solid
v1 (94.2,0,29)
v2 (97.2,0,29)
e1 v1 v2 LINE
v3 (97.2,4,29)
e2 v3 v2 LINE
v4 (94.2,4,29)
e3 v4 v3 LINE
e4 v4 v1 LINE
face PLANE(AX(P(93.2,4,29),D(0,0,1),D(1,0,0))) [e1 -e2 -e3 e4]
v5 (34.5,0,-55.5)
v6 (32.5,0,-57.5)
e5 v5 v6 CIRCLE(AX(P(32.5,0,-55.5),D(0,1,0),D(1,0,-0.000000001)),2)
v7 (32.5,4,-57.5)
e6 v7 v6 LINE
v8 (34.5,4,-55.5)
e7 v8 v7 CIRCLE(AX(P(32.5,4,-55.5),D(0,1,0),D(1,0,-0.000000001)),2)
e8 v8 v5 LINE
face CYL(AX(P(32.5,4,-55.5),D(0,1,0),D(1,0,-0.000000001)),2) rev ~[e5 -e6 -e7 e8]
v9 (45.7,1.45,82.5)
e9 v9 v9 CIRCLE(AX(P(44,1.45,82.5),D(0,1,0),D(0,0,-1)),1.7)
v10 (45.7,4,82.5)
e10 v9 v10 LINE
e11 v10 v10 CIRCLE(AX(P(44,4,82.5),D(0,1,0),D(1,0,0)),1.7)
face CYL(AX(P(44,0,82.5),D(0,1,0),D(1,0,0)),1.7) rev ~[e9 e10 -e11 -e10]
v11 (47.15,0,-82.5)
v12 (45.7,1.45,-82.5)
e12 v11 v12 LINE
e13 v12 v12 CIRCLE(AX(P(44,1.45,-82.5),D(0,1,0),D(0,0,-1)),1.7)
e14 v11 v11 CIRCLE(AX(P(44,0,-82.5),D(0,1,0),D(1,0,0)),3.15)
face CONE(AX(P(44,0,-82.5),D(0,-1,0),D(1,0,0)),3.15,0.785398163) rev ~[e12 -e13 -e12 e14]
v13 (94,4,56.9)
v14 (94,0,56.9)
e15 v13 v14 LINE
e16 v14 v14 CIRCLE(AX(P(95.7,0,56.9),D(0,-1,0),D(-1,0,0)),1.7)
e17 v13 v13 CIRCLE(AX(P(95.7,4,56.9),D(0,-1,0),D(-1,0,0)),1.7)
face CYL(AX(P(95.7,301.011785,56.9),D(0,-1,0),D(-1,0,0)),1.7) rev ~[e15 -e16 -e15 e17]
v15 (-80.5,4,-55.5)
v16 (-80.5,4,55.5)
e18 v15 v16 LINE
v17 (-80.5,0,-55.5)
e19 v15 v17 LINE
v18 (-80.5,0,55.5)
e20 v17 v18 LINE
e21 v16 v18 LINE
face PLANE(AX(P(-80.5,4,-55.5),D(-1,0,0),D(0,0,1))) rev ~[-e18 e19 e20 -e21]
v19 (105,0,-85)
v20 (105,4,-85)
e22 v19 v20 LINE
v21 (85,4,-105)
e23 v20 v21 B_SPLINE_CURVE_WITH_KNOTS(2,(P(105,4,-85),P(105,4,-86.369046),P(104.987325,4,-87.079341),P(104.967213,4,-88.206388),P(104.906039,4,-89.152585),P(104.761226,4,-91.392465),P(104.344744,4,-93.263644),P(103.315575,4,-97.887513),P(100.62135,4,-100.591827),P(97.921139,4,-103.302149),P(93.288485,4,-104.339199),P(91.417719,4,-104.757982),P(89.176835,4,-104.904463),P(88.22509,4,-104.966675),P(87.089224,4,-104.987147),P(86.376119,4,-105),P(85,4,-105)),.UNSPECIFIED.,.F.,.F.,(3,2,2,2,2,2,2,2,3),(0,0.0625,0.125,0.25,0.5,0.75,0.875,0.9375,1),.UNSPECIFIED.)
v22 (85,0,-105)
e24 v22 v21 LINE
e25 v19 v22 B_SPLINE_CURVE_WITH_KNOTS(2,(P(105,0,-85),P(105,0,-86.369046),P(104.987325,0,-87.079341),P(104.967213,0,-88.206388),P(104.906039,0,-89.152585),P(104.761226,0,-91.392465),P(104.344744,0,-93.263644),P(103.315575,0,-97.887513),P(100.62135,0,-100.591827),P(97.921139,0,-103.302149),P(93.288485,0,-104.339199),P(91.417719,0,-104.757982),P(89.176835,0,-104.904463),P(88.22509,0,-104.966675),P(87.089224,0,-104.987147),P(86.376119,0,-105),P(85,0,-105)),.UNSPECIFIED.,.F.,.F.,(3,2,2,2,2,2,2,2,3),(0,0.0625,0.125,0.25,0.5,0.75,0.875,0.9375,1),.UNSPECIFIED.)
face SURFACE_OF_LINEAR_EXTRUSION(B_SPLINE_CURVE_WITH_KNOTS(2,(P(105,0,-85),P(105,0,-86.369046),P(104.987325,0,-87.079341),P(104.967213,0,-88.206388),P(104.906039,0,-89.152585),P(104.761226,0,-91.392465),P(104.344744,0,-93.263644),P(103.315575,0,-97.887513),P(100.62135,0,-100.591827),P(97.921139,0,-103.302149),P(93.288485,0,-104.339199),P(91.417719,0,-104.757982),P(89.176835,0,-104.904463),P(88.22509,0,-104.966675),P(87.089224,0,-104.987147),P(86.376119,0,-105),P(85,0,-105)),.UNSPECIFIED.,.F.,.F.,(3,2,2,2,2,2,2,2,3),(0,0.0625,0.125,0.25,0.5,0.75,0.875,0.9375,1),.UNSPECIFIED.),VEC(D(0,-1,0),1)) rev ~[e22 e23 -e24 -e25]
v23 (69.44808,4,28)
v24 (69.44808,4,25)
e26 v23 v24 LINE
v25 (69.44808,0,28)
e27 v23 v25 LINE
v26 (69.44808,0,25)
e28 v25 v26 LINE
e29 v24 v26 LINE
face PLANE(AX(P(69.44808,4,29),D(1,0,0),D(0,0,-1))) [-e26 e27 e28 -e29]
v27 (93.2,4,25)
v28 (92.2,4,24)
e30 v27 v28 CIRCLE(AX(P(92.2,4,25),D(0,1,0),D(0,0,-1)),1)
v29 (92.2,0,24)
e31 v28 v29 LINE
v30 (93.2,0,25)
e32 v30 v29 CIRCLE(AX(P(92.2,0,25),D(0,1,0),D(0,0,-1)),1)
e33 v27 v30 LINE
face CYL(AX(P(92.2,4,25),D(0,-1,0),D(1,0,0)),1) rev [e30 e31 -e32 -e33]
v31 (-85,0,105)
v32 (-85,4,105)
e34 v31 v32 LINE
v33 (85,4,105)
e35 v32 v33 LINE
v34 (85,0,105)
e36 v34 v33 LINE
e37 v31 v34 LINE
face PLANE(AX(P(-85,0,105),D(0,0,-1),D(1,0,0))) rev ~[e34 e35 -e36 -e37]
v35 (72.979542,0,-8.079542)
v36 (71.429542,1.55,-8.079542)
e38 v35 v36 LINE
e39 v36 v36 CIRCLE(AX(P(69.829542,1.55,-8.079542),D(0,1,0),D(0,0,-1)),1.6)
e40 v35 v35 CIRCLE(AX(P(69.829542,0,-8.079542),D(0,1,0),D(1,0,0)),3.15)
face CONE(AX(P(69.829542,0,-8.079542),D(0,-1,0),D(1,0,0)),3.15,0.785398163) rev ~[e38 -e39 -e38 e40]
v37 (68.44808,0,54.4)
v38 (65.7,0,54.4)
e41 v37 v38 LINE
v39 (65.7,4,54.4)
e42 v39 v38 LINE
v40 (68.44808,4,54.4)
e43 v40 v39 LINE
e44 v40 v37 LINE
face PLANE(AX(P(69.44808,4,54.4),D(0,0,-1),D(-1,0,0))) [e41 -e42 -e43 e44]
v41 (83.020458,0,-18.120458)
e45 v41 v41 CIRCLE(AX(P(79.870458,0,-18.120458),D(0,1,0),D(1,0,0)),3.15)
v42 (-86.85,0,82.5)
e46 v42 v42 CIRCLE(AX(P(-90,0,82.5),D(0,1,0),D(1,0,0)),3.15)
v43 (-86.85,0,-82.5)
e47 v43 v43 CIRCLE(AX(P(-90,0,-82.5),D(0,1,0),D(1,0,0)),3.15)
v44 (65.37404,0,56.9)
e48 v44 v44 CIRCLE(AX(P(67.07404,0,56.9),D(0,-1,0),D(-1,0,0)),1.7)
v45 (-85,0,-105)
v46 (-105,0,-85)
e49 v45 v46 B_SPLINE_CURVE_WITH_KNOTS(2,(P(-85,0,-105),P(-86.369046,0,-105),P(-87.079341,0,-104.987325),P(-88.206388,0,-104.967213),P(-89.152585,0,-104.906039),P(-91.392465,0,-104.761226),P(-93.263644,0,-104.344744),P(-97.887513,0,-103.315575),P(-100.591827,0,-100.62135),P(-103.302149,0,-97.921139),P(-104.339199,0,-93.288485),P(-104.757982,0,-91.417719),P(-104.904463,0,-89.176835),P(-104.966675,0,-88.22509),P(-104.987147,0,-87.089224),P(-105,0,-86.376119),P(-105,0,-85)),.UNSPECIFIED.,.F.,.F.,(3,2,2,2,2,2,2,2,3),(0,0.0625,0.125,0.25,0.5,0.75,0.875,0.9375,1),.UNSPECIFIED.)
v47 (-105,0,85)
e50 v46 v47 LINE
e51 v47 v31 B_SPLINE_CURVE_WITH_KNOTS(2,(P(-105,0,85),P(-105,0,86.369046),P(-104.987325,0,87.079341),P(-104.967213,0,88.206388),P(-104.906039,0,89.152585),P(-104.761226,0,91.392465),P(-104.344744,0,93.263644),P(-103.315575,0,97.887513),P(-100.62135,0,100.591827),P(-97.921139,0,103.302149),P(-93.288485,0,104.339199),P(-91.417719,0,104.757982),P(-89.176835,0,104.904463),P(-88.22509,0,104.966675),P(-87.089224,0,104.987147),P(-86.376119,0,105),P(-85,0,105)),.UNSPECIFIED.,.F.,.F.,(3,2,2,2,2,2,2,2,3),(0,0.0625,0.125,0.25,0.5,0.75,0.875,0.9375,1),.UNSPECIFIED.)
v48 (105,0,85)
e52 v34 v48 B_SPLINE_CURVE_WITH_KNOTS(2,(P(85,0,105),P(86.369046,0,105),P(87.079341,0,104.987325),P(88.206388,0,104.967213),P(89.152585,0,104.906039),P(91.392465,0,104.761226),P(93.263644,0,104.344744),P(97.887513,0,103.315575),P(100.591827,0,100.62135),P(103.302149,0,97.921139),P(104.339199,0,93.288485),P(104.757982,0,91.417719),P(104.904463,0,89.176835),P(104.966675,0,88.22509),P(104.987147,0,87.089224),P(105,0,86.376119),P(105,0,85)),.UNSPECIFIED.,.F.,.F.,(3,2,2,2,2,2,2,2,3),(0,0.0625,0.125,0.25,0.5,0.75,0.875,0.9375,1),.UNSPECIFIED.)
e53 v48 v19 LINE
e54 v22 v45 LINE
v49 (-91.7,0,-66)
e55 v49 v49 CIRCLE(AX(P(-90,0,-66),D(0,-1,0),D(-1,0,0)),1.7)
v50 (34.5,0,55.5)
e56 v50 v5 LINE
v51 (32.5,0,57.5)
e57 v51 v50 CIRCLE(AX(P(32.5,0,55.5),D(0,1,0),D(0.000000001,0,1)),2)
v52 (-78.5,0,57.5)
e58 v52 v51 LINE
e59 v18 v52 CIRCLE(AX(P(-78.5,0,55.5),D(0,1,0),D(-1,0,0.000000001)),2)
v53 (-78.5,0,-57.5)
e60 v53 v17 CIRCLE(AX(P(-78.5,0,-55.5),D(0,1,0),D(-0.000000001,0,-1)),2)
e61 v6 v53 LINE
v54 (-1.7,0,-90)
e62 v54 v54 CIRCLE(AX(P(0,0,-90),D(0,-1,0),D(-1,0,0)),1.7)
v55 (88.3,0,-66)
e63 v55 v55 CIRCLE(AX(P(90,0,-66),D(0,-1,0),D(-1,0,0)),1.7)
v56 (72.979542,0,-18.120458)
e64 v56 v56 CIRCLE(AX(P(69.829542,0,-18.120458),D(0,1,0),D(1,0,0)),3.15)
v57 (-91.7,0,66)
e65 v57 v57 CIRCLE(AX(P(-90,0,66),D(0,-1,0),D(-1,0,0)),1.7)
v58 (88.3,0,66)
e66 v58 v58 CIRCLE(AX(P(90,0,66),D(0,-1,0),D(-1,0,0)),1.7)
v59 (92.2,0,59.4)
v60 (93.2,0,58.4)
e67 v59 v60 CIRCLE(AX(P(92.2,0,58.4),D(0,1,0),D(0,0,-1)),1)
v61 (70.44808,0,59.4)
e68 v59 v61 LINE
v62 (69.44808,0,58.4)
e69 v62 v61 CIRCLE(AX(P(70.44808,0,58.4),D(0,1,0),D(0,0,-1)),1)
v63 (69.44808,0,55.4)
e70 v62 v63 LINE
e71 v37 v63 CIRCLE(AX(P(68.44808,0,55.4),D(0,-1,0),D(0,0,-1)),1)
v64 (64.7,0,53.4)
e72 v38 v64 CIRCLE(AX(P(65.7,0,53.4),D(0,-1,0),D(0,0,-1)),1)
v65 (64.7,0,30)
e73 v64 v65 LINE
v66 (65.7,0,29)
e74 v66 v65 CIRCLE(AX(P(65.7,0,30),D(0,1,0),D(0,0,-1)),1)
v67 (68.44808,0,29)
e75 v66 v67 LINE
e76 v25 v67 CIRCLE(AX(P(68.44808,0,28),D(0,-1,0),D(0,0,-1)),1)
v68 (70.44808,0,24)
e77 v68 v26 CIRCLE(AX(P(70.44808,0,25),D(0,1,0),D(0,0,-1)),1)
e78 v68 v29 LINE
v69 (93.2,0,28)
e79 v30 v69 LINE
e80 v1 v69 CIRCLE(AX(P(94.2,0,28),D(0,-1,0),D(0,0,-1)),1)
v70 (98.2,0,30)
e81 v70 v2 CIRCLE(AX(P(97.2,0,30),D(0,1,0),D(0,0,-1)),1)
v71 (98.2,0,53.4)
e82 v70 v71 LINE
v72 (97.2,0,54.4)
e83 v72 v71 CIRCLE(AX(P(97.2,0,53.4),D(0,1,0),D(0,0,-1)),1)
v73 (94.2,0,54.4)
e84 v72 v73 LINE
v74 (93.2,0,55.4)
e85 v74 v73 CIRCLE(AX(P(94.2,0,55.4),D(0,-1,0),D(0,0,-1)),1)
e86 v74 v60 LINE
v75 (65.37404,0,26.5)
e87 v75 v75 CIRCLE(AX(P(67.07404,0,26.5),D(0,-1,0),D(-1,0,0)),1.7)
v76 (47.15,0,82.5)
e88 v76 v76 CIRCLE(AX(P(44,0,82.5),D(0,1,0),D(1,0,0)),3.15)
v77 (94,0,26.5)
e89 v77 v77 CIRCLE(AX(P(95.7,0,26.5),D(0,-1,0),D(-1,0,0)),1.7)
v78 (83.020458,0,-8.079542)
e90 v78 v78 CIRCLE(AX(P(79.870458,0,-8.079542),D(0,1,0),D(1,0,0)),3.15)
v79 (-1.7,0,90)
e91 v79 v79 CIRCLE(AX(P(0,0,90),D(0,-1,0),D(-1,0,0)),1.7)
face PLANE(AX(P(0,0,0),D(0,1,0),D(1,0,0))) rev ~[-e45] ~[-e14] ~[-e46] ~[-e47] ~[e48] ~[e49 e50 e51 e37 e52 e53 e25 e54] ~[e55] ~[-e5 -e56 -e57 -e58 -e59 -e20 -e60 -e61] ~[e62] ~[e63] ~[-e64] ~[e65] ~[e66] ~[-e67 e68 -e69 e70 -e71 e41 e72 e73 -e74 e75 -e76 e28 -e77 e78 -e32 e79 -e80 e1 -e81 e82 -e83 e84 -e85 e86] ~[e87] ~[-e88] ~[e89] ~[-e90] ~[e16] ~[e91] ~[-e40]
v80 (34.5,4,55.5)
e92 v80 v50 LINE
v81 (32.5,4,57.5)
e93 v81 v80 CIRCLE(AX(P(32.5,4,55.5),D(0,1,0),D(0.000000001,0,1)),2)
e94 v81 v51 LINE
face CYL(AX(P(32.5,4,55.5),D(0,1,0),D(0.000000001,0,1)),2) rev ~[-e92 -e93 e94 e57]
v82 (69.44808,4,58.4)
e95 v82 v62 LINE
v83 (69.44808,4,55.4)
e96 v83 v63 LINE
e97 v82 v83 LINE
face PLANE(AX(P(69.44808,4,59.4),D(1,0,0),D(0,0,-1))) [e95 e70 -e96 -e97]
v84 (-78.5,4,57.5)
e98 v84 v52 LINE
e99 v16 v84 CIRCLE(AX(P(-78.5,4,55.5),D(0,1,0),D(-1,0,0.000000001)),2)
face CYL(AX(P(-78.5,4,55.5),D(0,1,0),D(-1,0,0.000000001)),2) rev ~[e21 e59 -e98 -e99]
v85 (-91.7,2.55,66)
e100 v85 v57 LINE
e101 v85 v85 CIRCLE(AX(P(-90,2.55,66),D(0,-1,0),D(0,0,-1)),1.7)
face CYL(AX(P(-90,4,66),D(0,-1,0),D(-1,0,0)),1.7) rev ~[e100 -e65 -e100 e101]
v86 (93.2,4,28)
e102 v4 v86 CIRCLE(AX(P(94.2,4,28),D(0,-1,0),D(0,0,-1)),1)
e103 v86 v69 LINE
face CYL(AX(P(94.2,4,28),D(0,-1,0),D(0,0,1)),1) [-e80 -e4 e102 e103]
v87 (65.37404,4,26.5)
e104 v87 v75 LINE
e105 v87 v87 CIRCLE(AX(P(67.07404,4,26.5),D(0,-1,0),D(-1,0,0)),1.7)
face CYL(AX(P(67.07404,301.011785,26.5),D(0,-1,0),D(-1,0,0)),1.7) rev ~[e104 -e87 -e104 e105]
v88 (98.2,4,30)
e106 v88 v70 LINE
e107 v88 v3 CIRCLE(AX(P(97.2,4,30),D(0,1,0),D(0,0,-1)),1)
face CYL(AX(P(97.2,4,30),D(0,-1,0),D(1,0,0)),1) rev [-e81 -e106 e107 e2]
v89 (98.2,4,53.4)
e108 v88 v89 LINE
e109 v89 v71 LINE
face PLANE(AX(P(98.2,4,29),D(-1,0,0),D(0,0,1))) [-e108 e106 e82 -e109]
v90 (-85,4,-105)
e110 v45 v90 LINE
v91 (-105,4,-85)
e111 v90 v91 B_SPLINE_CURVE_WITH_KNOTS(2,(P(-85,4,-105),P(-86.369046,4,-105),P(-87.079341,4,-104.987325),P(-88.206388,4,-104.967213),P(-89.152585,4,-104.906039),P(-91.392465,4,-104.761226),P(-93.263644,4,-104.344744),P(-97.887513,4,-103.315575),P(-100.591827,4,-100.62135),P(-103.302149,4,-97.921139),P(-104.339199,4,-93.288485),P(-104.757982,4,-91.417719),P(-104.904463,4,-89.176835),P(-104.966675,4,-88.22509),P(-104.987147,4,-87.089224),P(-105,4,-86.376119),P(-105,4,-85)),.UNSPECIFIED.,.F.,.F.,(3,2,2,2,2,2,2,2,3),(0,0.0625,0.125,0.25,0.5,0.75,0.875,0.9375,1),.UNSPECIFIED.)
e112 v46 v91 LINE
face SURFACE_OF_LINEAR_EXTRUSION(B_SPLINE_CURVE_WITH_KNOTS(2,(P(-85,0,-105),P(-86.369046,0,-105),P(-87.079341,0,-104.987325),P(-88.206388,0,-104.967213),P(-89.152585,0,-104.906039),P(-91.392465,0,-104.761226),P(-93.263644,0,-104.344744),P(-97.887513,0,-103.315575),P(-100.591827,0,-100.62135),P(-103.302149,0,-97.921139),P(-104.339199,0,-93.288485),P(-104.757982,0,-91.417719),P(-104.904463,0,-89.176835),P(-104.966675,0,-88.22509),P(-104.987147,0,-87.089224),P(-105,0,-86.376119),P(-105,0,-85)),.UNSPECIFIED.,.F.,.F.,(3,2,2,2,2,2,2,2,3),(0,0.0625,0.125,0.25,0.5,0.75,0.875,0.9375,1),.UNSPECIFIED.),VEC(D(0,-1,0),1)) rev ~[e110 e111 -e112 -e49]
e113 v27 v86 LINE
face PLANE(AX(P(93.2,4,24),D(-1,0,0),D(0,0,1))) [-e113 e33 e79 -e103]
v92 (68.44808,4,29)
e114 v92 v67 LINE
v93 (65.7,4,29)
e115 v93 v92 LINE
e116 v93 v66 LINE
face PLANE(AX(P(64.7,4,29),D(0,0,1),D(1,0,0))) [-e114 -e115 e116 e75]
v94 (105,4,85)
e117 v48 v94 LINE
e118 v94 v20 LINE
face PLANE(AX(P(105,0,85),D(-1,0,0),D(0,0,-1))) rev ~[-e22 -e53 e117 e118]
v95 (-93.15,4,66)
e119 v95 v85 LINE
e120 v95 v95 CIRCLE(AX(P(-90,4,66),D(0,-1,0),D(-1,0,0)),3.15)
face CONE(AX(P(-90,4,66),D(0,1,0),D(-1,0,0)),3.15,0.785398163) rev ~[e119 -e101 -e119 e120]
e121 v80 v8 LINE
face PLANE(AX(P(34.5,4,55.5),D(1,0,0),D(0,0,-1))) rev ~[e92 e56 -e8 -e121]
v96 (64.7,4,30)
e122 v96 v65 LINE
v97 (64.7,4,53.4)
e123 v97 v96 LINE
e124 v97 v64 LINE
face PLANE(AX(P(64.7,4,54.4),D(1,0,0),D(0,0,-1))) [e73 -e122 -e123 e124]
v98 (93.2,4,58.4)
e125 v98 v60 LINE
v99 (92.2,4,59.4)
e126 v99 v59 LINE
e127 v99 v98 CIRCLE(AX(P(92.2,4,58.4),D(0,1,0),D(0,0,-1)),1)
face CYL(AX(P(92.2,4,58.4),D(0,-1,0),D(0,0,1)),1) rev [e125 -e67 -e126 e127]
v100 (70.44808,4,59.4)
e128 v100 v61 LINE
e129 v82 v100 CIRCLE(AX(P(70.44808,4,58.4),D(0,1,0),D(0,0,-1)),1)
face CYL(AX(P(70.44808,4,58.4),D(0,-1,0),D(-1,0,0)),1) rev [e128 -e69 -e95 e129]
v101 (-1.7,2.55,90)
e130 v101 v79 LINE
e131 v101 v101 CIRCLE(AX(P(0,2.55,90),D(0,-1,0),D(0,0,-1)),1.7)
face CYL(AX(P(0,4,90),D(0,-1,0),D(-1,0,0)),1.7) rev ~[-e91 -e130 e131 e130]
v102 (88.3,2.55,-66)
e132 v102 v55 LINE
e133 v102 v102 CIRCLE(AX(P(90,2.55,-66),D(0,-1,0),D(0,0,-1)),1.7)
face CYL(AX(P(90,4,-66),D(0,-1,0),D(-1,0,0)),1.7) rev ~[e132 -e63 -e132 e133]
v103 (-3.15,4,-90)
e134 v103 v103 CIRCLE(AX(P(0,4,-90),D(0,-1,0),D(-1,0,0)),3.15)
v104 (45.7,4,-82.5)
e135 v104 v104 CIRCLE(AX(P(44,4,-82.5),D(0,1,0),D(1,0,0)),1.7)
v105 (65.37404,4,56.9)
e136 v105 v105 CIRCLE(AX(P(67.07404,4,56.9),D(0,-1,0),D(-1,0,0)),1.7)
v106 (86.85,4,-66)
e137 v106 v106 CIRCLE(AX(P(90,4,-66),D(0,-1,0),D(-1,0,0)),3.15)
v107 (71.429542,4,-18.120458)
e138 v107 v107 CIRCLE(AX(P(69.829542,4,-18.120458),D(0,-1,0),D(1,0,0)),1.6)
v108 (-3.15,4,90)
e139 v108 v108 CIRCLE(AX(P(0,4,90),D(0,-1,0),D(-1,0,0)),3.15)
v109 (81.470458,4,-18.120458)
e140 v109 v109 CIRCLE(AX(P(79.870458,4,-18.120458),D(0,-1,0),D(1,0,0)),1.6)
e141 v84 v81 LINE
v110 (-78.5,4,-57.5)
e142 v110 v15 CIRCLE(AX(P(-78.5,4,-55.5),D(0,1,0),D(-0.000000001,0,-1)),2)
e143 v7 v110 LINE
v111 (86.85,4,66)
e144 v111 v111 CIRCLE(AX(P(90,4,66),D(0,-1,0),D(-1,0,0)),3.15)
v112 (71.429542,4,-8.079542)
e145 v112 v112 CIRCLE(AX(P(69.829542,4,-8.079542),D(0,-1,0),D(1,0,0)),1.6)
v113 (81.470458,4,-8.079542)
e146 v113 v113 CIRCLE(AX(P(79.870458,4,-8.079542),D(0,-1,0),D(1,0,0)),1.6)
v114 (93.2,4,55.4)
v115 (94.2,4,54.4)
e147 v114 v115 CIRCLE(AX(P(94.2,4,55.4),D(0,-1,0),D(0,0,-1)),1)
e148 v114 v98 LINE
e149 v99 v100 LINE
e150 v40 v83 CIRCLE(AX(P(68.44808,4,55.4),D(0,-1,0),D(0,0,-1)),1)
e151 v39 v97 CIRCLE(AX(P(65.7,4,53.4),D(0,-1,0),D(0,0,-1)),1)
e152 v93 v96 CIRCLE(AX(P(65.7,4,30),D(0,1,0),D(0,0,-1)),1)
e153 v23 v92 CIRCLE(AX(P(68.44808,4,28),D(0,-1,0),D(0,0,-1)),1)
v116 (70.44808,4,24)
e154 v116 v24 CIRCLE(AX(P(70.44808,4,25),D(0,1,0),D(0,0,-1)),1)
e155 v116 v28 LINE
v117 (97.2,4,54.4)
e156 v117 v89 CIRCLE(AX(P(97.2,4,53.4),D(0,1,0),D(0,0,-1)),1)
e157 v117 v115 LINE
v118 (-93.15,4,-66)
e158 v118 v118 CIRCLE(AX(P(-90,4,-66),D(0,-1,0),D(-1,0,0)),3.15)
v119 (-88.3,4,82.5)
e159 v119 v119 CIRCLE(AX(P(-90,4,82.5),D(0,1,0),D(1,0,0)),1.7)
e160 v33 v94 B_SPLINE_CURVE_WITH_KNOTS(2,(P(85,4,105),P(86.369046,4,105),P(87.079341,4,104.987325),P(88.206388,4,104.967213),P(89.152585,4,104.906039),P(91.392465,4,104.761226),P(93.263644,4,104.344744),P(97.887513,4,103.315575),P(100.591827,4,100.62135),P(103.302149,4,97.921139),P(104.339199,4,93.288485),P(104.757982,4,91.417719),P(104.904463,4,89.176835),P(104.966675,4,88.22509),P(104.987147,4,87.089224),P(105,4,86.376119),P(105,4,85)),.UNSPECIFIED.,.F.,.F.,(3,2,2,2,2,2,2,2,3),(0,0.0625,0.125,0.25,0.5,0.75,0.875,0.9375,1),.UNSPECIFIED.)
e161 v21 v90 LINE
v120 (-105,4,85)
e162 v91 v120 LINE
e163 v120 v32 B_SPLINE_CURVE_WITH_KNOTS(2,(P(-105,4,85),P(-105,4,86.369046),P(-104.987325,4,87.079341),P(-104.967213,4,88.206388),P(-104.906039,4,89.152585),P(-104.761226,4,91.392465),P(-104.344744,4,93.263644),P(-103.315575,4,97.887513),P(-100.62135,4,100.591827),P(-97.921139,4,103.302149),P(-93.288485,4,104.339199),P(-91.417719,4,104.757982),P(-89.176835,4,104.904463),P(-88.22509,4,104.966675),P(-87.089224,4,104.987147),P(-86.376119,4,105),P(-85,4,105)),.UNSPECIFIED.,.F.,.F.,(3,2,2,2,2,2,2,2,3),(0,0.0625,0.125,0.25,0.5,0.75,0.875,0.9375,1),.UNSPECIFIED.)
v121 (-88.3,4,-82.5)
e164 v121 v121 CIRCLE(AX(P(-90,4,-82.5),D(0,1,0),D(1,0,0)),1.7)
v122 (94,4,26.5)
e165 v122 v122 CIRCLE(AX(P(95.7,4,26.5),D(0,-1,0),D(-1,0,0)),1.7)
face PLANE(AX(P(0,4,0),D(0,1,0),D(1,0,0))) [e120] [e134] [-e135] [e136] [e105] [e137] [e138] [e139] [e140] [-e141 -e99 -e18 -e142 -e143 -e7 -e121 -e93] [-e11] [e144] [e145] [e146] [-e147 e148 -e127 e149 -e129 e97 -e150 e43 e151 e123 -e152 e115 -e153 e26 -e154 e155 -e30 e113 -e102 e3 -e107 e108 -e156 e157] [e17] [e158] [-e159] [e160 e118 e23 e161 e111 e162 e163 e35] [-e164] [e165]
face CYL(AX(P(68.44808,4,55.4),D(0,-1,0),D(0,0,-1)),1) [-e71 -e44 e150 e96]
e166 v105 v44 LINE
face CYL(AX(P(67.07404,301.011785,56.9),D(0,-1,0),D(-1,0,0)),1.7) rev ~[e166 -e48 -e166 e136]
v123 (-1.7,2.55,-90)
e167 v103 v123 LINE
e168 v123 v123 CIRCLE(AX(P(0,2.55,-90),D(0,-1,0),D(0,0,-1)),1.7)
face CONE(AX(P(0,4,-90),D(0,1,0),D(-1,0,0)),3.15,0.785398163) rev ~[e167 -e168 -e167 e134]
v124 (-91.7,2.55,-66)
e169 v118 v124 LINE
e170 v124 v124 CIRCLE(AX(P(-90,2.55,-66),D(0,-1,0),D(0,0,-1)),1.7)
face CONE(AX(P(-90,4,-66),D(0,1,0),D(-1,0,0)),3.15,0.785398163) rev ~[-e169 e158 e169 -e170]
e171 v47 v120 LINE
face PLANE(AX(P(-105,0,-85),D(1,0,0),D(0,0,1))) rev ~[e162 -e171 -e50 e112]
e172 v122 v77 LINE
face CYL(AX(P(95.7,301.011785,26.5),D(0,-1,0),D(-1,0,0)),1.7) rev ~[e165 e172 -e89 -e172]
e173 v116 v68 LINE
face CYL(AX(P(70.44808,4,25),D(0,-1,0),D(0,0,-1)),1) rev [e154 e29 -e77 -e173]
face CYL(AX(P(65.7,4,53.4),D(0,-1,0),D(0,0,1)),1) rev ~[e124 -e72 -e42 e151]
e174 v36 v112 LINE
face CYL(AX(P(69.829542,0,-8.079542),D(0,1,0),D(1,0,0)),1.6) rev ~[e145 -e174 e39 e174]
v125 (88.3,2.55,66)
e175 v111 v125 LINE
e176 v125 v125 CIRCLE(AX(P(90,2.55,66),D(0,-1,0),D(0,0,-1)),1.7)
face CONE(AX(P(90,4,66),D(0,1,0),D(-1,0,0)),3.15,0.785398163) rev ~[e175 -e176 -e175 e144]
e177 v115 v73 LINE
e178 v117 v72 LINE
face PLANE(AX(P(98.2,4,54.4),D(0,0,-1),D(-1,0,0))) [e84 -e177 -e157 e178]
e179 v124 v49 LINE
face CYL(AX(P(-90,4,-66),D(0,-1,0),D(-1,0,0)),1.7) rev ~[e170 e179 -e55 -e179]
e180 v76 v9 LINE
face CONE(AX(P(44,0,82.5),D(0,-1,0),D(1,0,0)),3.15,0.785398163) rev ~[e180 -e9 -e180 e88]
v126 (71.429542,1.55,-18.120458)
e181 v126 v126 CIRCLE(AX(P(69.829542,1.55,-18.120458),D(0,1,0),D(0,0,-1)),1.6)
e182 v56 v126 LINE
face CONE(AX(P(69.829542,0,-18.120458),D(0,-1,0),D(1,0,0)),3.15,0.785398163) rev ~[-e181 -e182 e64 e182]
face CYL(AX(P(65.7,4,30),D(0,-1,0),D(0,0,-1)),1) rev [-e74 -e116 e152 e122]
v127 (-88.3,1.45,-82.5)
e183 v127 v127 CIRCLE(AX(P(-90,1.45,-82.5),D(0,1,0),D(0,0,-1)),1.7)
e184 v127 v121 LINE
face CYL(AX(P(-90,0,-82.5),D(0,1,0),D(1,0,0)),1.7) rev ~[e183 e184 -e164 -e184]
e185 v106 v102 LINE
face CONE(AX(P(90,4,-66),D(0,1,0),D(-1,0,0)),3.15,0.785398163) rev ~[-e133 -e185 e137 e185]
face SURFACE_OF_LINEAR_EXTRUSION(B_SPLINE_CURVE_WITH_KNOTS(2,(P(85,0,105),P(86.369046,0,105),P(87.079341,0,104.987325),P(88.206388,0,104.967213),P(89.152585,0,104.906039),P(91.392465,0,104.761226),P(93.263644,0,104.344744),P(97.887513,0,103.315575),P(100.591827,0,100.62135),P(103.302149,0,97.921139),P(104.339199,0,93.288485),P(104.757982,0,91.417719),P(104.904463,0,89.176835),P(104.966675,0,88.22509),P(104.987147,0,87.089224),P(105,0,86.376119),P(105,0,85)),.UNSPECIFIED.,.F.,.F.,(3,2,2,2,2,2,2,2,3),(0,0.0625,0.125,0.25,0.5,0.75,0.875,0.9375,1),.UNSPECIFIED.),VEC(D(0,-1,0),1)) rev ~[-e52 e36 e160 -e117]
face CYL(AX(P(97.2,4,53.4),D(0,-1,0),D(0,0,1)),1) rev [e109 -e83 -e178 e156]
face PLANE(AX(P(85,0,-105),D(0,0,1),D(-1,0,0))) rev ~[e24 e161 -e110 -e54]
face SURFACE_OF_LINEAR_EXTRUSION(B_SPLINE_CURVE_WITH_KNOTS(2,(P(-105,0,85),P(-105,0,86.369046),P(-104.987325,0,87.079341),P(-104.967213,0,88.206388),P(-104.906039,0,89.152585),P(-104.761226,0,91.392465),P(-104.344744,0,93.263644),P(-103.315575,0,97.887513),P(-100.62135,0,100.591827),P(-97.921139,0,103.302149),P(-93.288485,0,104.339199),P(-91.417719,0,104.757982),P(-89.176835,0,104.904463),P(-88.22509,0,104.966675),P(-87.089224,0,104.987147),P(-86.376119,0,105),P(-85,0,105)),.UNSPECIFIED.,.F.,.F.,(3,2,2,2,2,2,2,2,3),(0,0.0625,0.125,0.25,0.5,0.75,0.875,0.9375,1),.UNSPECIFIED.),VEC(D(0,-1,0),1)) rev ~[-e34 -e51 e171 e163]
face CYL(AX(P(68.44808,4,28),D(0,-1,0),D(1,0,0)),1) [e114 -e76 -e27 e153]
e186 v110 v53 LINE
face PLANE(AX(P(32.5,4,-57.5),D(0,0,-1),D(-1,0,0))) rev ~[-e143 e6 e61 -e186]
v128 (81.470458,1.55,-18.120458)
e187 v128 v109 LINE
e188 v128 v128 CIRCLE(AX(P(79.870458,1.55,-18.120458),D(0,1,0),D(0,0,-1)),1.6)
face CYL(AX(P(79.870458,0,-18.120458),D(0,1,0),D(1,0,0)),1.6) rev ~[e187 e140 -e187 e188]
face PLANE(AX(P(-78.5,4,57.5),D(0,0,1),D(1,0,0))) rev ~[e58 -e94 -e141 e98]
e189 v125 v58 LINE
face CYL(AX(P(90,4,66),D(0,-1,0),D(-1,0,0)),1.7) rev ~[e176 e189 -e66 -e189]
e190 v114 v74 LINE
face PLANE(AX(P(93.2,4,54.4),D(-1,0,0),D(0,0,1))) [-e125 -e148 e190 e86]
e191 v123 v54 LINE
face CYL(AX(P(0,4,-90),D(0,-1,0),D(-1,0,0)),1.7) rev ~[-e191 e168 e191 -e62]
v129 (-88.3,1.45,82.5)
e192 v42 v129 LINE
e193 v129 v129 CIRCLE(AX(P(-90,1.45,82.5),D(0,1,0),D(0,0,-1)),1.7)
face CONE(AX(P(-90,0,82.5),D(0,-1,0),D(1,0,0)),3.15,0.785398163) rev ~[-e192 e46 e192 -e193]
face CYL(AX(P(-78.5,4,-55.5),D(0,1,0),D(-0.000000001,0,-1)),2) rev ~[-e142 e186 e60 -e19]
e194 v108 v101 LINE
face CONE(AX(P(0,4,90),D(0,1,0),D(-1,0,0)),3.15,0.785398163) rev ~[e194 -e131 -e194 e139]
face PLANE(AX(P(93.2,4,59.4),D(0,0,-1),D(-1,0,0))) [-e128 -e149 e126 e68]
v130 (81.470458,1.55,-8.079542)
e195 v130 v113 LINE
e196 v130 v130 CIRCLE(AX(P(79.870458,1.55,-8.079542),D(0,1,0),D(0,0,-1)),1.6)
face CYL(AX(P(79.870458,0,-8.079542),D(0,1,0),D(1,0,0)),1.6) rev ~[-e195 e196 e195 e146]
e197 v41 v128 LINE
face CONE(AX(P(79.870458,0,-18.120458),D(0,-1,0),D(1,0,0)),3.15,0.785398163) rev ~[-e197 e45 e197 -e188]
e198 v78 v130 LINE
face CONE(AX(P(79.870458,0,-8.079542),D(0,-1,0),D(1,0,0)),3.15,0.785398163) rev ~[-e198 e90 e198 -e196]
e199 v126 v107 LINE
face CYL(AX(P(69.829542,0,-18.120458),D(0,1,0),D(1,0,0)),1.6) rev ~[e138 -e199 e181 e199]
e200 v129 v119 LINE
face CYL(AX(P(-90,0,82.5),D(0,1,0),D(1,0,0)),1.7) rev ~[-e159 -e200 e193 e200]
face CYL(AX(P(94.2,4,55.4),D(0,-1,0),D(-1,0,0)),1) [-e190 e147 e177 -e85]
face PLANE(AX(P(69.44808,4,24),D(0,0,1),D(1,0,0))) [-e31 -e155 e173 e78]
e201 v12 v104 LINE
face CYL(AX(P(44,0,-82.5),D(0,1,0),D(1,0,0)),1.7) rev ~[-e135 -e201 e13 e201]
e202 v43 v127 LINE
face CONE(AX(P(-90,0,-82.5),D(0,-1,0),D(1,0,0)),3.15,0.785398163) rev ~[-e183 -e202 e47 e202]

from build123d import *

# Parameters (mm, degrees)
EXTRUDE_1_DEPTH             = 4
HOLE_WIZARD_M32_D           = 3.4
HOLE_WIZARD_M32_CSINK_D     = 6.3
HOLE_WIZARD_M32_CSINK_ANGLE = 90
HOLE_WIZARD_M33_D           = 3.2
HOLE_WIZARD_M33_DEPTH       = 4
HOLE_WIZARD_M33_CSINK_D     = 6.3
HOLE_WIZARD_M33_CSINK_ANGLE = 90
HOLE_WIZARD_M33_TIP         = 0.96137699
HOLE_WIZARD_M34_D           = 3.4
HOLE_WIZARD_M34_CSINK_D     = 6.3
HOLE_WIZARD_M34_CSINK_ANGLE = 90
CUT_EXTRUDE_1_DEPTH         = 149.546289226
FILLET_2_R                  = 1
HOLE_WIZARD_M31_D           = 3.4
HOLE_WIZARD_M32_2_D         = 3.4
CUT_EXTRUDE_2_DEPTH         = 149.546289226


with BuildPart() as part:
    # Эскиз1 → Бобышка-Вытянуть1 (new body)
    with BuildSketch(Plane(origin=(0, 0, 0), x_dir=(1, 0, 0), z_dir=(0, 1, 0))):
        with BuildLine():
            Line((105, -85), (105, 85))
            add(Edge.make_bspline(
                [(105, 85), (105, 86.369045792), (104.987324741, 87.079340582), (104.967212505, 88.206387976), (104.906039071, 89.152584722), (104.761226492, 91.39246541), (104.344744121, 93.263644052), (103.315574629, 97.887513169), (100.621349625, 100.591827179), (97.92113895, 103.302149274), (93.2884849, 104.339199227), (91.417719264, 104.757982368), (89.176835463, 104.90446255), (88.225090112, 104.966675429), (87.089224134, 104.987147489), (86.37611905, 105), (85, 105)],
                knots=[0, 0, 0, 0.0625, 0.0625, 0.125, 0.125, 0.25, 0.25, 0.5, 0.5, 0.75, 0.75, 0.875, 0.875, 0.9375, 0.9375, 1, 1, 1], degree=2))
            Line((85, 105), (-85, 105))
            add(Edge.make_bspline(
                [(-85, 105), (-86.369045792, 105), (-87.079340582, 104.987324741), (-88.206387976, 104.967212505), (-89.152584722, 104.906039071), (-91.39246541, 104.761226492), (-93.263644052, 104.344744121), (-97.88751317, 103.315574629), (-100.591827179, 100.621349625), (-103.302149274, 97.92113895), (-104.339199227, 93.2884849), (-104.757982368, 91.417719265), (-104.90446255, 89.176835463), (-104.966675429, 88.225090111), (-104.987147489, 87.089224134), (-105, 86.376119049), (-105, 85)],
                knots=[0, 0, 0, 0.0625, 0.0625, 0.125, 0.125, 0.25, 0.25, 0.5, 0.5, 0.75, 0.75, 0.875, 0.875, 0.9375, 0.9375, 1, 1, 1], degree=2))
            Line((-105, 85), (-105, -85))
            add(Edge.make_bspline(
                [(-105, -85), (-105, -86.369045791), (-104.987324741, -87.079340582), (-104.967212505, -88.206387976), (-104.906039071, -89.152584722), (-104.761226492, -91.39246541), (-104.344744121, -93.263644052), (-103.315574629, -97.88751317), (-100.621349625, -100.591827179), (-97.92113895, -103.302149274), (-93.2884849, -104.339199227), (-91.417719264, -104.757982368), (-89.176835463, -104.90446255), (-88.225090111, -104.966675429), (-87.089224134, -104.987147489), (-86.37611905, -105), (-85, -105)],
                knots=[0, 0, 0, 0.0625, 0.0625, 0.125, 0.125, 0.25, 0.25, 0.5, 0.5, 0.75, 0.75, 0.875, 0.875, 0.9375, 0.9375, 1, 1, 1], degree=2))
            Line((-85, -105), (85, -105))
            add(Edge.make_bspline(
                [(85, -105), (86.369045792, -105), (87.079340582, -104.987324741), (88.206387976, -104.967212505), (89.152584722, -104.906039071), (91.39246541, -104.761226492), (93.263644052, -104.344744121), (97.887513169, -103.315574629), (100.591827179, -100.621349625), (103.302149273, -97.92113895), (104.339199227, -93.2884849), (104.757982368, -91.417719265), (104.90446255, -89.176835463), (104.966675429, -88.225090112), (104.987147489, -87.089224134), (105, -86.376119051), (105, -85)],
                knots=[0, 0, 0, 0.0625, 0.0625, 0.125, 0.125, 0.25, 0.25, 0.5, 0.5, 0.75, 0.75, 0.875, 0.875, 0.9375, 0.9375, 1, 1, 1], degree=2))
        make_face()
    extrude(amount=EXTRUDE_1_DEPTH)

    # Hole Wizard M32 (through all)
    with Locations(Plane(origin=(0, 4, 0), x_dir=(1, 0, 0), z_dir=(0, 1, 0))):
        with Locations((90, -66), (0, -90), (-90, -66), (0, 90), (-90, 66), (90, 66)):
            CounterSinkHole(HOLE_WIZARD_M32_D / 2, HOLE_WIZARD_M32_CSINK_D / 2, counter_sink_angle=HOLE_WIZARD_M32_CSINK_ANGLE)

    # Зенковка для винта с полупотайной головкой M33
    with Locations(Plane(origin=(0, 0, 0), x_dir=(-1, 0, 0), z_dir=(0, -1, 0))):
        with Locations((-69.829541854, 8.079541854), (-79.870458146, 8.079541854), (-79.870458146, 18.120458146), (-69.829541854, 18.120458146)):
            CounterSinkHole(HOLE_WIZARD_M33_D / 2, HOLE_WIZARD_M33_CSINK_D / 2, depth=HOLE_WIZARD_M33_DEPTH, counter_sink_angle=HOLE_WIZARD_M33_CSINK_ANGLE)
            with Locations((0, 0, -(HOLE_WIZARD_M33_DEPTH + HOLE_WIZARD_M33_TIP / 2))):  # 118° drill point
                Cone(0, HOLE_WIZARD_M33_D / 2, HOLE_WIZARD_M33_TIP, mode=Mode.SUBTRACT)

    # Зенковка для винта с полупотайной головкой M34 (through all)
    with Locations(Plane(origin=(0, 0, 0), x_dir=(-1, 0, 0), z_dir=(0, -1, 0))):
        with Locations((90, 82.5), (-44, 82.5), (-44, -82.5), (90, -82.5)):
            CounterSinkHole(HOLE_WIZARD_M34_D / 2, HOLE_WIZARD_M34_CSINK_D / 2, counter_sink_angle=HOLE_WIZARD_M34_CSINK_ANGLE)

    # Эскиз18 → Вырез-Вытянуть1 (cut, through all)
    with BuildSketch(Plane(origin=(0, 4, 0), x_dir=(1, 0, 0), z_dir=(0, 1, 0))):
        Polygon((64.7, -54.4), (64.7, -29), (69.448080065, -29), (69.448080065, -24), (93.2, -24), (93.2, -29), (98.2, -29), (98.2, -54.4), (93.2, -54.4), (93.2, -59.4), (69.448080065, -59.4), (69.448080065, -54.4), align=None)
    extrude(amount=-CUT_EXTRUDE_1_DEPTH, mode=Mode.SUBTRACT)

    # Скругление2
    fillet_2_edges = [part.edges().sort_by_distance(p)[0] for p in [
        (93.2, 2, 24),
        (93.2, 2, 29),
        (98.2, 2, 29),
        (98.2, 2, 54.4),
        (93.2, 2, 54.4),
        (93.2, 2, 59.4),
        (69.448080065, 2, 59.4),
        (69.448080065, 2, 54.4),
        (64.7, 2, 54.4),
        (64.7, 2, 29),
        (69.448080065, 2, 29),
        (69.448080065, 2, 24),
    ]]
    fillet(fillet_2_edges, radius=FILLET_2_R)

    # Отверстие с зазором M31 (through all)
    with Locations(Plane(origin=(0, 4, 0), x_dir=(1, 0, 0), z_dir=(0, 1, 0))):
        with Locations((95.7, -56.9), (67.074040033, -56.9), (67.074040033, -26.5), (95.7, -26.5)):
            Hole(HOLE_WIZARD_M31_D / 2)

    # Hole Wizard M32 2 (through all)
    with Locations(Plane(origin=(0, 4, 0), x_dir=(1, 0, 0), z_dir=(0, 1, 0))):
        with Locations((67.074040033, -56.9), (95.7, -56.9), (95.7, -26.5), (67.074040033, -26.5)):
            Hole(HOLE_WIZARD_M32_2_D / 2)

    # Эскиз28 → Вырез-Вытянуть2 (cut, through all)
    with BuildSketch(Plane(origin=(0, 4, 0), x_dir=(1, 0, 0), z_dir=(0, 1, 0))):
        with BuildLine():
            Line((-78.5, -57.5), (32.5, -57.5))
            ThreePointArc((32.5, -57.5), (33.914213562, -56.914213562), (34.5, -55.5))
            Line((34.5, -55.5), (34.5, 55.5))
            ThreePointArc((34.5, 55.5), (33.914213562, 56.914213562), (32.5, 57.5))
            Line((32.5, 57.5), (-78.5, 57.5))
            ThreePointArc((-78.5, 57.5), (-79.914213562, 56.914213562), (-80.5, 55.5))
            Line((-80.5, 55.5), (-80.5, -55.5))
            ThreePointArc((-80.5, -55.5), (-79.914213562, -56.914213562), (-78.5, -57.5))
        make_face()
    extrude(amount=-CUT_EXTRUDE_2_DEPTH, mode=Mode.SUBTRACT)


solid = part.part
